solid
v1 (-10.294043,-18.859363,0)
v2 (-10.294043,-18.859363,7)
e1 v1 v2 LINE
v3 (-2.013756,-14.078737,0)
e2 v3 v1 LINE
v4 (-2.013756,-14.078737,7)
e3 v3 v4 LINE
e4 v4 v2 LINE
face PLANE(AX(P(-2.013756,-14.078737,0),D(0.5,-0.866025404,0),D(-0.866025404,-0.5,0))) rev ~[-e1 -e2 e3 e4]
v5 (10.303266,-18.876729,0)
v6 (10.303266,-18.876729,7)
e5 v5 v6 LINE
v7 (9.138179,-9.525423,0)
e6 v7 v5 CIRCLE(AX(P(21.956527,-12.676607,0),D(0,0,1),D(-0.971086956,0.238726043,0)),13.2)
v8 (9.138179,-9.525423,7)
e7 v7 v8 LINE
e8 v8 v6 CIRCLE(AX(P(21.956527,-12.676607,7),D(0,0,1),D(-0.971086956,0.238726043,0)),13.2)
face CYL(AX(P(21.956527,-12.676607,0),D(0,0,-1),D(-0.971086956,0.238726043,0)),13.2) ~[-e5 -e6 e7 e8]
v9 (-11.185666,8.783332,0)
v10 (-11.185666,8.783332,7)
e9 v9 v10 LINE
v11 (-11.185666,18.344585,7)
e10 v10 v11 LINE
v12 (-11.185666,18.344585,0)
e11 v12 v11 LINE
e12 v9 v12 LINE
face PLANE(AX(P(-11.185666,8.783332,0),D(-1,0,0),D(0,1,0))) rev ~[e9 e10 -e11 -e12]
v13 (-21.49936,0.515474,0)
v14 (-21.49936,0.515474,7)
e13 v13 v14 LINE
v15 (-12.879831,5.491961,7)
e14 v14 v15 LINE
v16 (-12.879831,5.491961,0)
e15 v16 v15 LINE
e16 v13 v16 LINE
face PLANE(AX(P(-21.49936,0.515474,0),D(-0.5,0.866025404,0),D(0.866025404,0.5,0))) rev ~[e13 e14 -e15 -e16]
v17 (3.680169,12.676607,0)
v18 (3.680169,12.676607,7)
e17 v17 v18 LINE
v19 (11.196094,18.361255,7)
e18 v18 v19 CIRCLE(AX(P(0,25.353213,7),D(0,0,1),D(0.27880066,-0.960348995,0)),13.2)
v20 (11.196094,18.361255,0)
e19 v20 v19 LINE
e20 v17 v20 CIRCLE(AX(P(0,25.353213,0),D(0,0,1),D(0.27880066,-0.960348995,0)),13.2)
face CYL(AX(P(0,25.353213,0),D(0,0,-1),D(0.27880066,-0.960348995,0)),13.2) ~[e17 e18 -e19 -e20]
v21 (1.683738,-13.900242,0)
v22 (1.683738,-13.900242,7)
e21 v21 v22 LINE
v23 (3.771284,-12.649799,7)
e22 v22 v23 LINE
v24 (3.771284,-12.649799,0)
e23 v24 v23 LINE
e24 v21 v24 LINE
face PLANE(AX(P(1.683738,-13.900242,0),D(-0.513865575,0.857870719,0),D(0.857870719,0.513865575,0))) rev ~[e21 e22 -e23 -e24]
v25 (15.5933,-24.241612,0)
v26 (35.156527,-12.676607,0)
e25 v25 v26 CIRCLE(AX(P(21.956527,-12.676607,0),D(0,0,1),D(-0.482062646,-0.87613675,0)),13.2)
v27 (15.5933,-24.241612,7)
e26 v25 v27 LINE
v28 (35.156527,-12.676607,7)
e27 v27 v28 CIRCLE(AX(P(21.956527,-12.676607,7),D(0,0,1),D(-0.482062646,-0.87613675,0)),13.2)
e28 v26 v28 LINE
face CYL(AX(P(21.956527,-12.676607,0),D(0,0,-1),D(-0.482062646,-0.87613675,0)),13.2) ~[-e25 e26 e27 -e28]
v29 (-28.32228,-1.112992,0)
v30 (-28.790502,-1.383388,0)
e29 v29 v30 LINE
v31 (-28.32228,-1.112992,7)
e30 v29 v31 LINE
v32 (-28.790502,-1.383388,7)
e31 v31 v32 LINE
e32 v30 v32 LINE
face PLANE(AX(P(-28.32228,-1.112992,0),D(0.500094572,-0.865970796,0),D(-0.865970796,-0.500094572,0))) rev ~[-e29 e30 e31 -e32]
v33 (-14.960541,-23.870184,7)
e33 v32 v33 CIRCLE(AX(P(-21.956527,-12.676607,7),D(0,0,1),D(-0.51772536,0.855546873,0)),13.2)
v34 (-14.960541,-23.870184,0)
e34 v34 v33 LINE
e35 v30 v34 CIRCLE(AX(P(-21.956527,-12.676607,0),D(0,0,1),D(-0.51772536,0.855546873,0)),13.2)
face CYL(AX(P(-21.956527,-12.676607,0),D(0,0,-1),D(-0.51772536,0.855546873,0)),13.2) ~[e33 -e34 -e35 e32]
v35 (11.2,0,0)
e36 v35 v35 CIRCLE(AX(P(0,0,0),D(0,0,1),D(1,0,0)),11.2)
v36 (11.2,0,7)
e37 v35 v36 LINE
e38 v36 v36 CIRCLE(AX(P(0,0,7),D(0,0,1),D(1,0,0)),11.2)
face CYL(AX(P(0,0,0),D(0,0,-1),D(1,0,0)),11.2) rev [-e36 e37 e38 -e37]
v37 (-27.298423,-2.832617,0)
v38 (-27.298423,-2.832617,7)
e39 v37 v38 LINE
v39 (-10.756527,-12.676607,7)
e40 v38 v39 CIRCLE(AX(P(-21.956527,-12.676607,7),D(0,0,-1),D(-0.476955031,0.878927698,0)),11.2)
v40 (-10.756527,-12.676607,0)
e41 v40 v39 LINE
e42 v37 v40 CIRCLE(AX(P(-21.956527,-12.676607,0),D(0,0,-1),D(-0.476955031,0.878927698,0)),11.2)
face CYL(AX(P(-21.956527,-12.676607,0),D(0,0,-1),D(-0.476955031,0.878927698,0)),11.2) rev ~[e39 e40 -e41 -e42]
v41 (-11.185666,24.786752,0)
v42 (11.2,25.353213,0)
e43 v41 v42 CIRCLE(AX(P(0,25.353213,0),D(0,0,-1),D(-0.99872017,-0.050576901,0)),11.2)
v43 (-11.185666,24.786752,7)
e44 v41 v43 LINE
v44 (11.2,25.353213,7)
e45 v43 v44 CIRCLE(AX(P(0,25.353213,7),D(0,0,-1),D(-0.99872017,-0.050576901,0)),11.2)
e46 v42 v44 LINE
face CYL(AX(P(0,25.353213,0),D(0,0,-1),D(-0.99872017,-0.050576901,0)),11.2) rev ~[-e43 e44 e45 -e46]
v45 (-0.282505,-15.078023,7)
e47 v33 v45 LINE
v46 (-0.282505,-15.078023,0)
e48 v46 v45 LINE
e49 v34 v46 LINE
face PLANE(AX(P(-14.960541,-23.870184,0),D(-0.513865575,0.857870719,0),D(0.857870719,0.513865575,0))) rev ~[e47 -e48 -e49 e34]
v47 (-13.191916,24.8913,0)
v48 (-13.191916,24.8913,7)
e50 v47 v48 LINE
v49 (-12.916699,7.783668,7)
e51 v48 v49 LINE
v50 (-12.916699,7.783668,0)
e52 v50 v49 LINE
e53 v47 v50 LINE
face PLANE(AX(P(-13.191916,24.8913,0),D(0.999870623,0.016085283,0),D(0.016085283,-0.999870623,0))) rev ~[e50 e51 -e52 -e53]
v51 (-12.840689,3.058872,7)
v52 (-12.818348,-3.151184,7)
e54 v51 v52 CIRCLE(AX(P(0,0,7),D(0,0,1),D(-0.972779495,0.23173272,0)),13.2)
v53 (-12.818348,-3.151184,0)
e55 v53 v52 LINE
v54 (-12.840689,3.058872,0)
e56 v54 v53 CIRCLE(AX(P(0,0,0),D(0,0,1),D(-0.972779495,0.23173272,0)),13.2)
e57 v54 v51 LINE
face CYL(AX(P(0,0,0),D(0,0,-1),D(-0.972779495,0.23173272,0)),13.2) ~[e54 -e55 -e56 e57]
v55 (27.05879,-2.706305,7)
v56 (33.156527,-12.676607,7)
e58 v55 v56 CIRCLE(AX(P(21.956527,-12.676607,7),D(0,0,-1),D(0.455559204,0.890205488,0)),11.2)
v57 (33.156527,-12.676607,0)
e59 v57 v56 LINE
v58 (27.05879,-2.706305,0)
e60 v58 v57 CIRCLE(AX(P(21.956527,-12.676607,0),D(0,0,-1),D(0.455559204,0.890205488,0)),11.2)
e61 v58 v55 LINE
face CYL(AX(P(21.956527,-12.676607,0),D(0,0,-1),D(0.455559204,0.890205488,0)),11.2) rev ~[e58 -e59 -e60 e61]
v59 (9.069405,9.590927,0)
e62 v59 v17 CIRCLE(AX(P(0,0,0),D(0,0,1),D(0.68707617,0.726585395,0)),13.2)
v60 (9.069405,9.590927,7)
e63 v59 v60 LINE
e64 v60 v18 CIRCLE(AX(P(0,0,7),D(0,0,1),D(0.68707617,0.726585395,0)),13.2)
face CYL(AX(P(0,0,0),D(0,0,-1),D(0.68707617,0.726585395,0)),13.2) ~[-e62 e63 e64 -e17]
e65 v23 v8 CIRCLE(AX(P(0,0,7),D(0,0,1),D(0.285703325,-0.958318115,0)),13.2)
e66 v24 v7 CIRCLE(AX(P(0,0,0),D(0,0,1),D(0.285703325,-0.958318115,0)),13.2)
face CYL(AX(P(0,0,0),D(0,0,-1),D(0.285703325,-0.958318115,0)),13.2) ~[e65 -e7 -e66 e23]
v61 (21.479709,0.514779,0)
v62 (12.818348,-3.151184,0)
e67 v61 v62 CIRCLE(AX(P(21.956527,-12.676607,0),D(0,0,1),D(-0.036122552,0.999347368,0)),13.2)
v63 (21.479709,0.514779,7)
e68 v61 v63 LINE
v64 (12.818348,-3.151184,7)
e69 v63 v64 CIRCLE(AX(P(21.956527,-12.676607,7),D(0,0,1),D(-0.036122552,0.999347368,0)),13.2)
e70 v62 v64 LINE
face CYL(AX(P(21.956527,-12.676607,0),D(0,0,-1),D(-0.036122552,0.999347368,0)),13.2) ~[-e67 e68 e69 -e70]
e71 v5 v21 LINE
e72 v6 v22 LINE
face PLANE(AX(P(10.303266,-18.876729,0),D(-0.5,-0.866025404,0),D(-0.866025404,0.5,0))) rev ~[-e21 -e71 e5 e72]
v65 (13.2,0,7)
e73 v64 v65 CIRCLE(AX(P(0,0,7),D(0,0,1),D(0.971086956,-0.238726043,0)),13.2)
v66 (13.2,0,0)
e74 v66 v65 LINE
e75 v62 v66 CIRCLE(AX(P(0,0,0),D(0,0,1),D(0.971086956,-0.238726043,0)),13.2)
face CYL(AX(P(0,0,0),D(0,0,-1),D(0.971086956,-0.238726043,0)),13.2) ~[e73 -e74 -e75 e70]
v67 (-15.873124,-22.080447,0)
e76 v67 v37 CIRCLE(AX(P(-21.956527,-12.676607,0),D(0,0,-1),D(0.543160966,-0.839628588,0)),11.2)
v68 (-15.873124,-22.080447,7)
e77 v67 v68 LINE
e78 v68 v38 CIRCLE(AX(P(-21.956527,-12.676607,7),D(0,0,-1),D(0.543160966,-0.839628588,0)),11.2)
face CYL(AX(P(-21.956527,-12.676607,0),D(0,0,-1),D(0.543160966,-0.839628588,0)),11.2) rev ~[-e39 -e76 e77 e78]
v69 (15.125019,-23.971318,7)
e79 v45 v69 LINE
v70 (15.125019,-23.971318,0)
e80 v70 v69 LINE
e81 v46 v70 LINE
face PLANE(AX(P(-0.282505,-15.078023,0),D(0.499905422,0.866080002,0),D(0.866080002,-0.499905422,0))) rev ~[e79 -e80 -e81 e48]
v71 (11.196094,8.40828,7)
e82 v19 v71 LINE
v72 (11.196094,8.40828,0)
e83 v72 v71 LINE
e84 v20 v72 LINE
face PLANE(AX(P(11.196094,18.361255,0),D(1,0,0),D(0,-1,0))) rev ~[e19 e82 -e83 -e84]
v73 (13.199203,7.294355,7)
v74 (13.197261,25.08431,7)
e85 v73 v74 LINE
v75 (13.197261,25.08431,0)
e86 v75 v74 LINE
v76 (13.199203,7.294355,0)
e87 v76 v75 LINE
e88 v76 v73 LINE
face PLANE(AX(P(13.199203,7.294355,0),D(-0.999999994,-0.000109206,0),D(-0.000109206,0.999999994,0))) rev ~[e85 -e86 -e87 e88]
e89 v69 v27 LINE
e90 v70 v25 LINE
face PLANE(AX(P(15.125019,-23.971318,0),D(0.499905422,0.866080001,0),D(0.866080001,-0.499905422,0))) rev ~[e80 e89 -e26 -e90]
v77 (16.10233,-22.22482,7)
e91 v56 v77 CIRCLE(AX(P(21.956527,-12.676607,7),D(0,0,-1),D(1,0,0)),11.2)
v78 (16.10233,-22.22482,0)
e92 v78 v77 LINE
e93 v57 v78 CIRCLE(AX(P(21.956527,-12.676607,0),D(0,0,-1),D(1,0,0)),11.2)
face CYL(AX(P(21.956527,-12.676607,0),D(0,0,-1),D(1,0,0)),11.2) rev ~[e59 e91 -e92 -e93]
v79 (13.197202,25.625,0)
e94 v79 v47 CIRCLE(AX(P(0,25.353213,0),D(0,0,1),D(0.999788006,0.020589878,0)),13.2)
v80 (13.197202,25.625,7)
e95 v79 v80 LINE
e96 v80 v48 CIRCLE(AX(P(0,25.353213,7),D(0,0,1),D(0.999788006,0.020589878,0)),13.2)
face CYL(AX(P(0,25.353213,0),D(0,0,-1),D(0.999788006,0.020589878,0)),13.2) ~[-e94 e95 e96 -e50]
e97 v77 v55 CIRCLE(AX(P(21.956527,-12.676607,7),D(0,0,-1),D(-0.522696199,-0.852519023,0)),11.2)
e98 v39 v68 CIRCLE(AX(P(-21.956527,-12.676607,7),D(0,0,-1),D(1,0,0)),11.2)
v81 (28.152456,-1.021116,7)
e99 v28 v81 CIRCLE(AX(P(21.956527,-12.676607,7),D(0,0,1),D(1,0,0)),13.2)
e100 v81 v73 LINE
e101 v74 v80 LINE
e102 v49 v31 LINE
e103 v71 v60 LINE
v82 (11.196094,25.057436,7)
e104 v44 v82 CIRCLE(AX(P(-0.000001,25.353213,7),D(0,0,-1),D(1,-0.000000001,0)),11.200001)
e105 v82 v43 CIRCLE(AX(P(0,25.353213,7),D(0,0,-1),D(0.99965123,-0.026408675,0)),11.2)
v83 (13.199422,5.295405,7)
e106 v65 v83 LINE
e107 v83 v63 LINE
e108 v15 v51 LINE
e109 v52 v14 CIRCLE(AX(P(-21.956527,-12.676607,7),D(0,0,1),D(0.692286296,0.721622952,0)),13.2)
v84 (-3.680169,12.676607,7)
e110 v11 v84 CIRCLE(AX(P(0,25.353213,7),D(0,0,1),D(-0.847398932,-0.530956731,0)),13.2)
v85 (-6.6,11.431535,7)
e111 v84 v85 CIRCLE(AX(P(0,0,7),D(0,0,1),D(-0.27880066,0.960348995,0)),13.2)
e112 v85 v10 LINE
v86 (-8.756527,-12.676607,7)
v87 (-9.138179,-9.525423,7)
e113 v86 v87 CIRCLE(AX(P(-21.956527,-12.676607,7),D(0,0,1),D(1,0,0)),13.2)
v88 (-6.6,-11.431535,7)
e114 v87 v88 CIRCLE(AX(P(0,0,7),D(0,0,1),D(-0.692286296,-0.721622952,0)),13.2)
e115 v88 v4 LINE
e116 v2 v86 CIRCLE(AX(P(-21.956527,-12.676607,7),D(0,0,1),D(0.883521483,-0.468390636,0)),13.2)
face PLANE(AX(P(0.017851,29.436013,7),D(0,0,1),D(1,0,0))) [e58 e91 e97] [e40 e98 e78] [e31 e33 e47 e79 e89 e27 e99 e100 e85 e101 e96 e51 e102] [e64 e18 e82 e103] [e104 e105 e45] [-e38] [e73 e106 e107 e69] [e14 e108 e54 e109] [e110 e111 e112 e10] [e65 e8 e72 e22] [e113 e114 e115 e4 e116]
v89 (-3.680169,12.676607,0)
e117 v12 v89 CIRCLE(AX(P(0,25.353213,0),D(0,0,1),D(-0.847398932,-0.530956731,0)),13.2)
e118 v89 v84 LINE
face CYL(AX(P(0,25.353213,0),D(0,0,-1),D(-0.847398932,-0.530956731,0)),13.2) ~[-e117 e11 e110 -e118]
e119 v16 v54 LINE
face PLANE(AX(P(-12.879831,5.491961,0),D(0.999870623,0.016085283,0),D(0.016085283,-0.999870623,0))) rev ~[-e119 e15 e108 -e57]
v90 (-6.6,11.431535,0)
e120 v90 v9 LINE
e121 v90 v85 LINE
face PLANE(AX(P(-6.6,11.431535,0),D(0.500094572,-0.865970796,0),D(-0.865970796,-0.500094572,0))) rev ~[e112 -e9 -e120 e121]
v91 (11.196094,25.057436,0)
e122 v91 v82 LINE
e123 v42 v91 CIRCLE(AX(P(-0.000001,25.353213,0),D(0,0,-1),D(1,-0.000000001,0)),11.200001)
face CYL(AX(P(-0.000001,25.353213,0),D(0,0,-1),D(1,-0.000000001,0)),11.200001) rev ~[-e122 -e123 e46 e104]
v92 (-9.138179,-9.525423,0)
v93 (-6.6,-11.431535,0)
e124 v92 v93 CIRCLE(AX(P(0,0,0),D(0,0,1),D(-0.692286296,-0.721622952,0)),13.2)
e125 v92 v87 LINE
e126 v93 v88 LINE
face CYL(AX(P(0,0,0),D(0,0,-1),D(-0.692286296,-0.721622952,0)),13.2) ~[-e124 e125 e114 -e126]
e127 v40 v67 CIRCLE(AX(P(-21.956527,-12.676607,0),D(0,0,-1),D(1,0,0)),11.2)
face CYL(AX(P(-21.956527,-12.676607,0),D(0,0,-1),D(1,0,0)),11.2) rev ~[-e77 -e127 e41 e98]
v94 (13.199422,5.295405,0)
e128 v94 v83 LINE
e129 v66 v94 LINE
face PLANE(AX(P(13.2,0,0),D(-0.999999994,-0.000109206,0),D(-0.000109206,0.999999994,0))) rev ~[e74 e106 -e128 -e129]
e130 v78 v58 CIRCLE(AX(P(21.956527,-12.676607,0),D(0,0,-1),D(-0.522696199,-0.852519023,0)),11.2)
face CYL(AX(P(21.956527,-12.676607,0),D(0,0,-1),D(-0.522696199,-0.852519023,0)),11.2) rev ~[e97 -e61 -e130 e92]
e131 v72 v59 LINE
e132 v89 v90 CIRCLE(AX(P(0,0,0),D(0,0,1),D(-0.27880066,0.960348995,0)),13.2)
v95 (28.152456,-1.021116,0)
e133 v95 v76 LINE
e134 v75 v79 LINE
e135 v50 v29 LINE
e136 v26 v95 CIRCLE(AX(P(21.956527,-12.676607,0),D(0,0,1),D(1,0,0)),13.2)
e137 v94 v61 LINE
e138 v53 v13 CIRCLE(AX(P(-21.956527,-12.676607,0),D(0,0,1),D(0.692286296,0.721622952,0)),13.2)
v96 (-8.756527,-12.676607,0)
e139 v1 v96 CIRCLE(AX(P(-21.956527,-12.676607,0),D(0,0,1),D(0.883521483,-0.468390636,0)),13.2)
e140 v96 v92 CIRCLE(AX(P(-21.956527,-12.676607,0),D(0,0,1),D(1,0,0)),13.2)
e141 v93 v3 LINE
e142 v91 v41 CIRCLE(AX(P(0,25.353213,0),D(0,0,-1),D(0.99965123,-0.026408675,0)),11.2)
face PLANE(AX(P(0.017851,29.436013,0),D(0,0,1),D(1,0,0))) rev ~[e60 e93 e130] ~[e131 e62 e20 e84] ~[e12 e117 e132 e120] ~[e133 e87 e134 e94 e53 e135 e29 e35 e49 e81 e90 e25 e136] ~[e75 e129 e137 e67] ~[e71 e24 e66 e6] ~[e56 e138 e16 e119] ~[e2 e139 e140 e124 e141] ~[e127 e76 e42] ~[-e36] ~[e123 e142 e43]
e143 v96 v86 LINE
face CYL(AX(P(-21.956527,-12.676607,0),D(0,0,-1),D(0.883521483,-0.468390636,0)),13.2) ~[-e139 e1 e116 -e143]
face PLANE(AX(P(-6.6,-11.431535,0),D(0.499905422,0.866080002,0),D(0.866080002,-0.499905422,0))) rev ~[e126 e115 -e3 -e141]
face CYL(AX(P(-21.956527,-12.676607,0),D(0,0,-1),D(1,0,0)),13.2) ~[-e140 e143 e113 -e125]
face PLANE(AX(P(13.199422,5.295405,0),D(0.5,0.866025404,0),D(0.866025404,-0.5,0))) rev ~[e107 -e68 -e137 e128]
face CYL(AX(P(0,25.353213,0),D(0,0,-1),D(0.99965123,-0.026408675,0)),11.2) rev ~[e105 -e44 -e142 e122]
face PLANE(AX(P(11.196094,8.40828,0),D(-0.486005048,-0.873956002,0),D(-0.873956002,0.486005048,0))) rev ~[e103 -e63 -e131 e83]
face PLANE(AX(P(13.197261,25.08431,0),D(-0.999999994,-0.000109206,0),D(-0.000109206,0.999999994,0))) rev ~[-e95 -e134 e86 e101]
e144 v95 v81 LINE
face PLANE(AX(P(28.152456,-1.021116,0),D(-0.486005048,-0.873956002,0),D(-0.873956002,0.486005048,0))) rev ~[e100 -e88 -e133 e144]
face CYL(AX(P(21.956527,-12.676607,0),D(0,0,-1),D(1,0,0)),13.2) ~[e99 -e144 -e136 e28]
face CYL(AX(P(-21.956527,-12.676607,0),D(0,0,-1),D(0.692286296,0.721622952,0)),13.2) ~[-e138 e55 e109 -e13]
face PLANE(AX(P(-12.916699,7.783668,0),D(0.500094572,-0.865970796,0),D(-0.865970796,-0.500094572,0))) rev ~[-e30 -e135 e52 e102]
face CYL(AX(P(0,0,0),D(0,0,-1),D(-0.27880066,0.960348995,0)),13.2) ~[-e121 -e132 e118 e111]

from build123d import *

# Parameters (mm, degrees)
F0_R     = 11.2
F1_DEPTH = 7


with BuildPart() as f1:
    # F0 (on Top) → F1 (new body)
    with BuildSketch(Plane.XY):
        with BuildLine():
            ThreePointArc((11.1960937773, 18.3612549308), (12.6514347683, 21.5874202803), (13.1972607258, 25.0843095102))
            Line((13.1972607258, 25.0843095102), (13.1972016792, 25.6249998472))
            ThreePointArc((13.1972016792, 25.6249998472), (-0.3668592076, 38.5481145369), (-13.1919155694, 24.8913004743))
            ThreePointArc((-13.1919155694, 24.8913004743), (-12.6206771495, 21.4855903841), (-11.1856658992, 18.3445846116))
            Line((-11.1856658992, 18.3445846116), (-11.1856658992, 24.7867521761))
            ThreePointArc((-11.1856658992, 24.7867521761), (-0.2833213093, 36.5496293654), (11.2, 25.353213464))
            ThreePointArc((11.2, 25.353213464), (11.1990234017, 25.2053119859), (11.1960937773, 25.0574363006))
            Line((11.1960937773, 25.0574363006), (11.1960937773, 18.3612549308))
        make_face()
        with BuildLine():
            ThreePointArc((-11.1856658992, 18.3445846116), (-12.6206771495, 21.4855903841), (-13.1919155694, 24.8913004743))
            Line((-13.1919155694, 24.8913004743), (-12.91669885, 7.7836678209))
            Line((-12.91669885, 7.7836678209), (-11.1856658992, 8.7833322288))
            Line((-11.1856658992, 8.7833322288), (-11.1856658992, 18.3445846116))
        make_face()
        with BuildLine():
            Line((11.1960937773, 8.4082804197), (13.1992034925, 7.2943554266))
            Line((13.1992034925, 7.2943554266), (13.1972607258, 25.0843095102))
            ThreePointArc((13.1972607258, 25.0843095102), (12.6514347683, 21.5874202803), (11.1960937773, 18.3612549308))
            Line((11.1960937773, 18.3612549308), (11.1960937773, 8.4082804197))
        make_face()
        with BuildLine():
            ThreePointArc((-3.6801687137, 12.676606732), (0, 12.153213464), (3.6801687137, 12.676606732))
            ThreePointArc((3.6801687137, 12.676606732), (0, 13.2), (-3.6801687137, 12.676606732))
        make_face()
        with BuildLine():
            ThreePointArc((-3.6801687137, 12.676606732), (0, 13.2), (3.6801687137, 12.676606732))
            ThreePointArc((3.6801687137, 12.676606732), (7.9627007172, 14.8253743083), (11.1960937773, 18.3612549308))
            Line((11.1960937773, 18.3612549308), (11.1960937773, 25.0574363006))
            ThreePointArc((11.1960937773, 25.0574363006), (0.1354424563, 14.154032452), (-11.1856658992, 24.7867521761))
            Line((-11.1856658992, 24.7867521761), (-11.1856658992, 18.3445846116))
            ThreePointArc((-11.1856658992, 18.3445846116), (-7.9548571952, 14.8194464738), (-3.6801687137, 12.676606732))
        make_face()
        with BuildLine():
            ThreePointArc((11.1960937773, 6.9919585332), (11.4364479512, 6.5914837677), (11.6624835815, 6.1827564008))
            Line((11.6624835815, 6.1827564008), (13.1994217896, 5.2954047126))
            Line((13.1994217896, 5.2954047126), (13.1992034925, 7.2943554266))
            Line((13.1992034925, 7.2943554266), (11.1960937773, 8.4082804197))
            Line((11.1960937773, 8.4082804197), (11.1960937773, 6.9919585332))
        make_face()
        with BuildLine():
            Line((13.1992034925, 7.2943554266), (13.1994217896, 5.2954047126))
            Line((13.1994217896, 5.2954047126), (21.4797092452, 0.5147785212))
            ThreePointArc((21.4797092452, 0.5147785212), (24.9174056627, 0.1870318324), (28.1524563287, -1.0211162295))
            Line((28.1524563287, -1.0211162295), (13.1992034925, 7.2943554266))
        make_face()
        with BuildLine():
            ThreePointArc((11.6624835815, 6.1827564008), (12.8098552544, 3.1855310958), (13.2, 0))
            Line((13.2000000787, 0), (13.1994217896, 5.2954047126))
            Line((13.1994217896, 5.2954047126), (11.6624835815, 6.1827564008))
        make_face()
        with BuildLine():
            ThreePointArc((-11.1856658992, 7.0086288524), (-9.1636784807, 9.5008945212), (-6.6, 11.43153533))
            Line((-6.6000000394, 11.4315353981), (-11.1856658992, 8.7833322288))
            Line((-11.1856658992, 8.7833322288), (-11.1856658992, 7.0086288524))
        make_face()
        with BuildLine():
            Line((-11.1856658992, 8.7833322288), (-12.91669885, 7.7836678209))
            Line((-12.91669885, 7.7836678209), (-12.8798313342, 5.4919614244))
            Line((-12.8798313342, 5.4919614244), (-11.6532606006, 6.2001223677))
            ThreePointArc((-11.6532606006, 6.2001223677), (-11.4266163671, 6.6085125709), (-11.1856658992, 7.0086288524))
            Line((-11.1856658992, 7.0086288524), (-11.1856658992, 8.7833322288))
        make_face()
        with BuildLine():
            Line((-12.8798313342, 5.4919614244), (-12.91669885, 7.7836678209))
            Line((-12.91669885, 7.7836678209), (-28.3222796351, -1.1129917062))
            ThreePointArc((-28.3222796351, -1.1129917062), (-25.020971749, 0.1627537636), (-21.4993601041, 0.5154741689))
            Line((-21.4993601041, 0.5154741689), (-12.8798313342, 5.4919614244))
        make_face()
        with BuildLine():
            ThreePointArc((-28.7905016793, -1.3833880105), (-33.2002168531, -19.5917666618), (-14.9605407593, -23.8701842448))
            ThreePointArc((-14.9605407593, -23.8701842448), (-12.2967285132, -21.6726222165), (-10.2940433459, -18.8593631328))
            Line((-10.2940433459, -18.8593631328), (-15.8731241122, -22.0804469151))
            ThreePointArc((-15.8731241122, -22.0804469151), (-31.5875809573, -18.393493846), (-27.2984232787, -2.832616516))
            Line((-27.2984232787, -2.832616516), (-21.4993601041, 0.5154741689))
            ThreePointArc((-21.4993601041, 0.5154741689), (-25.020971749, 0.1627537636), (-28.3222796351, -1.1129917062))
            Line((-28.3222796351, -1.1129917062), (-28.7905016793, -1.3833880105))
        make_face()
        with BuildLine():
            ThreePointArc((-8.7565269274, -12.676606732), (-8.8522873228, -11.0895010695), (-9.1381791068, -9.5254229623))
            ThreePointArc((-9.1381791068, -9.5254229623), (-11.43153533, -6.6), (-12.8183478206, -3.1511837697))
            ThreePointArc((-12.8183478206, -3.1511837697), (-16.8205011302, -0.5167860504), (-21.4993601041, 0.5154741689))
            Line((-21.4993601041, 0.5154741689), (-27.2984232787, -2.832616516))
            ThreePointArc((-27.2984232787, -2.832616516), (-16.2289287892, -3.0519187076), (-10.7565269274, -12.676606732))
            ThreePointArc((-10.7565269274, -12.676606732), (-12.1184856709, -18.0294512314), (-15.8731241122, -22.0804469151))
            Line((-15.8731241122, -22.0804469151), (-10.2940433459, -18.8593631328))
            ThreePointArc((-10.2940433459, -18.8593631328), (-9.1466716731, -15.8621378278), (-8.7565269274, -12.676606732))
        make_face()
        with BuildLine():
            Line((-2.0137558904, -14.0787369414), (-0.4768176823, -13.1913852532))
            ThreePointArc((-0.4768176823, -13.1913852532), (-3.6461767737, -12.686425617), (-6.6, -11.43153533))
            Line((-6.6000000394, -11.4315353981), (-2.0137558904, -14.0787369414))
        make_face()
        with BuildLine():
            ThreePointArc((12.8183478206, -3.1511837697), (13.1042396046, -1.5871056626), (13.2, 0))
            ThreePointArc((13.2, 0), (12.8098552544, 3.1855310958), (11.6624835815, 6.1827564008))
            ThreePointArc((11.6624835815, 6.1827564008), (11.4364479512, 6.5914837677), (11.1960937773, 6.9919585332))
            ThreePointArc((11.1960937773, 6.9919585332), (10.2157365995, 8.3593495997), (9.0694054488, 9.590927213))
            ThreePointArc((9.0694054488, 9.590927213), (6.5588310586, 11.4552055916), (3.6801687137, 12.676606732))
            ThreePointArc((3.6801687137, 12.676606732), (0, 12.153213464), (-3.6801687137, 12.676606732))
            ThreePointArc((-3.6801687137, 12.676606732), (-5.1776459801, 12.1421572262), (-6.6, 11.43153533))
            ThreePointArc((-6.6, 11.43153533), (-9.1636784807, 9.5008945212), (-11.1856658992, 7.0086288524))
            ThreePointArc((-11.1856658992, 7.0086288524), (-11.4266163671, 6.6085125709), (-11.6532606006, 6.2001223677))
            ThreePointArc((-11.6532606006, 6.2001223677), (-12.3472774122, 4.6674126137), (-12.8406893367, 3.0588719094))
            ThreePointArc((-12.8406893367, 3.0588719094), (-13.1999145772, -0.0474884799), (-12.8183478206, -3.1511837697))
            ThreePointArc((-12.8183478206, -3.1511837697), (-10.5249915975, -6.076606732), (-9.1381791068, -9.5254229623))
            ThreePointArc((-9.1381791068, -9.5254229623), (-7.9265936246, -10.5550515636), (-6.6, -11.43153533))
            ThreePointArc((-6.6, -11.43153533), (-3.6461767737, -12.686425617), (-0.4768176823, -13.1913852532))
            ThreePointArc((-0.4768176823, -13.1913852532), (-0.0098315841, -13.1999963386), (0.4571668233, -13.1920809009))
            ThreePointArc((0.4571668233, -13.1920809009), (2.1315408127, -13.0267622134), (3.7712838879, -12.6497991224))
            ThreePointArc((3.7712838879, -12.6497991224), (6.6410835186, -11.4077171117), (9.1381791068, -9.5254229623))
            ThreePointArc((9.1381791068, -9.5254229623), (10.5249915975, -6.076606732), (12.8183478206, -3.1511837697))
        make_face()
        Circle(F0_R, mode=Mode.SUBTRACT)
        with BuildLine():
            ThreePointArc((28.1524563287, -1.0211162295), (24.9174056627, 0.1870318324), (21.4797092452, 0.5147785212))
            Line((21.4797092452, 0.5147785212), (27.0587900115, -2.7063052611))
            ThreePointArc((27.0587900115, -2.7063052611), (31.5112468747, -6.8330353301), (33.1565269274, -12.676606732))
            ThreePointArc((33.1565269274, -12.676606732), (27.4279521909, -22.4491962346), (16.1023295014, -22.2248197846))
            Line((16.1023295014, -22.2248197846), (10.3032663268, -18.8767290997))
            ThreePointArc((10.3032663268, -18.8767290997), (12.369536981, -21.7501740441), (15.1250189101, -23.9713178044))
            Line((15.1250189101, -23.9713178044), (15.5933, -24.2416118367))
            ThreePointArc((15.5933, -24.2416118367), (28.6738703219, -24.0395859946), (35.1565269274, -12.676606732))
            ThreePointArc((35.1565269274, -12.676606732), (33.2708158599, -5.8775725395), (28.1524563287, -1.0211162295))
        make_face()
        with BuildLine():
            ThreePointArc((21.4797092452, 0.5147785212), (16.811445714, -0.5206148224), (12.8183478206, -3.1511837697))
            ThreePointArc((12.8183478206, -3.1511837697), (11.43153533, -6.6), (9.1381791068, -9.5254229623))
            ThreePointArc((9.1381791068, -9.5254229623), (8.857800413, -14.308588258), (10.3032663268, -18.8767290997))
            Line((10.3032663268, -18.8767290997), (16.1023295014, -22.2248197846))
            ThreePointArc((16.1023295014, -22.2248197846), (12.1900304413, -7.1943128339), (27.0587900115, -2.7063052611))
            Line((27.0587900115, -2.7063052611), (21.4797092452, 0.5147785212))
        make_face()
        with BuildLine():
            ThreePointArc((-12.8183478206, -3.1511837697), (-11.43153533, -6.6), (-9.1381791068, -9.5254229623))
            ThreePointArc((-9.1381791068, -9.5254229623), (-10.5249915975, -6.076606732), (-12.8183478206, -3.1511837697))
        make_face()
        with BuildLine():
            ThreePointArc((9.1381791068, -9.5254229623), (11.43153533, -6.6), (12.8183478206, -3.1511837697))
            ThreePointArc((12.8183478206, -3.1511837697), (10.5249915975, -6.076606732), (9.1381791068, -9.5254229623))
        make_face()
        with BuildLine():
            ThreePointArc((15.1250189101, -23.9713178044), (12.369536981, -21.7501740441), (10.3032663268, -18.8767290997))
            Line((10.3032663268, -18.8767290997), (1.6837375569, -13.9002418441))
            Line((1.6837375569, -13.9002418441), (-0.2825046426, -15.0780232476))
            Line((-0.2825046426, -15.0780232476), (15.1250189101, -23.9713178044))
        make_face()
        with BuildLine():
            Line((1.6837375569, -13.9002418441), (0.4571668233, -13.1920809009))
            ThreePointArc((0.4571668233, -13.1920809009), (-0.0098315841, -13.1999963386), (-0.4768176823, -13.1913852532))
            Line((-0.4768176823, -13.1913852532), (-2.0137558904, -14.0787369414))
            Line((-2.0137558904, -14.0787369414), (-0.2825046426, -15.0780232476))
            Line((-0.2825046426, -15.0780232476), (1.6837375569, -13.9002418441))
        make_face()
        with BuildLine():
            Line((-14.9605407593, -23.8701842448), (-0.2825046426, -15.0780232476))
            Line((-0.2825046426, -15.0780232476), (-2.0137558904, -14.0787369414))
            Line((-2.0137558904, -14.0787369414), (-10.2940433459, -18.8593631328))
            ThreePointArc((-10.2940433459, -18.8593631328), (-12.2967285132, -21.6726222165), (-14.9605407593, -23.8701842448))
        make_face()
        with BuildLine():
            Line((-11.6532606006, 6.2001223677), (-12.8798313342, 5.4919614244))
            Line((-12.8798313342, 5.4919614244), (-12.8406893367, 3.0588719094))
            ThreePointArc((-12.8406893367, 3.0588719094), (-12.3472774122, 4.6674126137), (-11.6532606006, 6.2001223677))
        make_face()
        with BuildLine():
            ThreePointArc((9.0694054488, 9.590927213), (10.2157365995, 8.3593495997), (11.1960937773, 6.9919585332))
            Line((11.1960937773, 6.9919585332), (11.1960937773, 8.4082804197))
            Line((11.1960937773, 8.4082804197), (9.0694054488, 9.590927213))
        make_face()
        with BuildLine():
            Line((1.6837375569, -13.9002418441), (3.7712838879, -12.6497991224))
            ThreePointArc((3.7712838879, -12.6497991224), (2.1315408127, -13.0267622134), (0.4571668233, -13.1920809009))
            Line((0.4571668233, -13.1920809009), (1.6837375569, -13.9002418441))
        make_face()
    extrude(amount=F1_DEPTH)


solid = f1.part
